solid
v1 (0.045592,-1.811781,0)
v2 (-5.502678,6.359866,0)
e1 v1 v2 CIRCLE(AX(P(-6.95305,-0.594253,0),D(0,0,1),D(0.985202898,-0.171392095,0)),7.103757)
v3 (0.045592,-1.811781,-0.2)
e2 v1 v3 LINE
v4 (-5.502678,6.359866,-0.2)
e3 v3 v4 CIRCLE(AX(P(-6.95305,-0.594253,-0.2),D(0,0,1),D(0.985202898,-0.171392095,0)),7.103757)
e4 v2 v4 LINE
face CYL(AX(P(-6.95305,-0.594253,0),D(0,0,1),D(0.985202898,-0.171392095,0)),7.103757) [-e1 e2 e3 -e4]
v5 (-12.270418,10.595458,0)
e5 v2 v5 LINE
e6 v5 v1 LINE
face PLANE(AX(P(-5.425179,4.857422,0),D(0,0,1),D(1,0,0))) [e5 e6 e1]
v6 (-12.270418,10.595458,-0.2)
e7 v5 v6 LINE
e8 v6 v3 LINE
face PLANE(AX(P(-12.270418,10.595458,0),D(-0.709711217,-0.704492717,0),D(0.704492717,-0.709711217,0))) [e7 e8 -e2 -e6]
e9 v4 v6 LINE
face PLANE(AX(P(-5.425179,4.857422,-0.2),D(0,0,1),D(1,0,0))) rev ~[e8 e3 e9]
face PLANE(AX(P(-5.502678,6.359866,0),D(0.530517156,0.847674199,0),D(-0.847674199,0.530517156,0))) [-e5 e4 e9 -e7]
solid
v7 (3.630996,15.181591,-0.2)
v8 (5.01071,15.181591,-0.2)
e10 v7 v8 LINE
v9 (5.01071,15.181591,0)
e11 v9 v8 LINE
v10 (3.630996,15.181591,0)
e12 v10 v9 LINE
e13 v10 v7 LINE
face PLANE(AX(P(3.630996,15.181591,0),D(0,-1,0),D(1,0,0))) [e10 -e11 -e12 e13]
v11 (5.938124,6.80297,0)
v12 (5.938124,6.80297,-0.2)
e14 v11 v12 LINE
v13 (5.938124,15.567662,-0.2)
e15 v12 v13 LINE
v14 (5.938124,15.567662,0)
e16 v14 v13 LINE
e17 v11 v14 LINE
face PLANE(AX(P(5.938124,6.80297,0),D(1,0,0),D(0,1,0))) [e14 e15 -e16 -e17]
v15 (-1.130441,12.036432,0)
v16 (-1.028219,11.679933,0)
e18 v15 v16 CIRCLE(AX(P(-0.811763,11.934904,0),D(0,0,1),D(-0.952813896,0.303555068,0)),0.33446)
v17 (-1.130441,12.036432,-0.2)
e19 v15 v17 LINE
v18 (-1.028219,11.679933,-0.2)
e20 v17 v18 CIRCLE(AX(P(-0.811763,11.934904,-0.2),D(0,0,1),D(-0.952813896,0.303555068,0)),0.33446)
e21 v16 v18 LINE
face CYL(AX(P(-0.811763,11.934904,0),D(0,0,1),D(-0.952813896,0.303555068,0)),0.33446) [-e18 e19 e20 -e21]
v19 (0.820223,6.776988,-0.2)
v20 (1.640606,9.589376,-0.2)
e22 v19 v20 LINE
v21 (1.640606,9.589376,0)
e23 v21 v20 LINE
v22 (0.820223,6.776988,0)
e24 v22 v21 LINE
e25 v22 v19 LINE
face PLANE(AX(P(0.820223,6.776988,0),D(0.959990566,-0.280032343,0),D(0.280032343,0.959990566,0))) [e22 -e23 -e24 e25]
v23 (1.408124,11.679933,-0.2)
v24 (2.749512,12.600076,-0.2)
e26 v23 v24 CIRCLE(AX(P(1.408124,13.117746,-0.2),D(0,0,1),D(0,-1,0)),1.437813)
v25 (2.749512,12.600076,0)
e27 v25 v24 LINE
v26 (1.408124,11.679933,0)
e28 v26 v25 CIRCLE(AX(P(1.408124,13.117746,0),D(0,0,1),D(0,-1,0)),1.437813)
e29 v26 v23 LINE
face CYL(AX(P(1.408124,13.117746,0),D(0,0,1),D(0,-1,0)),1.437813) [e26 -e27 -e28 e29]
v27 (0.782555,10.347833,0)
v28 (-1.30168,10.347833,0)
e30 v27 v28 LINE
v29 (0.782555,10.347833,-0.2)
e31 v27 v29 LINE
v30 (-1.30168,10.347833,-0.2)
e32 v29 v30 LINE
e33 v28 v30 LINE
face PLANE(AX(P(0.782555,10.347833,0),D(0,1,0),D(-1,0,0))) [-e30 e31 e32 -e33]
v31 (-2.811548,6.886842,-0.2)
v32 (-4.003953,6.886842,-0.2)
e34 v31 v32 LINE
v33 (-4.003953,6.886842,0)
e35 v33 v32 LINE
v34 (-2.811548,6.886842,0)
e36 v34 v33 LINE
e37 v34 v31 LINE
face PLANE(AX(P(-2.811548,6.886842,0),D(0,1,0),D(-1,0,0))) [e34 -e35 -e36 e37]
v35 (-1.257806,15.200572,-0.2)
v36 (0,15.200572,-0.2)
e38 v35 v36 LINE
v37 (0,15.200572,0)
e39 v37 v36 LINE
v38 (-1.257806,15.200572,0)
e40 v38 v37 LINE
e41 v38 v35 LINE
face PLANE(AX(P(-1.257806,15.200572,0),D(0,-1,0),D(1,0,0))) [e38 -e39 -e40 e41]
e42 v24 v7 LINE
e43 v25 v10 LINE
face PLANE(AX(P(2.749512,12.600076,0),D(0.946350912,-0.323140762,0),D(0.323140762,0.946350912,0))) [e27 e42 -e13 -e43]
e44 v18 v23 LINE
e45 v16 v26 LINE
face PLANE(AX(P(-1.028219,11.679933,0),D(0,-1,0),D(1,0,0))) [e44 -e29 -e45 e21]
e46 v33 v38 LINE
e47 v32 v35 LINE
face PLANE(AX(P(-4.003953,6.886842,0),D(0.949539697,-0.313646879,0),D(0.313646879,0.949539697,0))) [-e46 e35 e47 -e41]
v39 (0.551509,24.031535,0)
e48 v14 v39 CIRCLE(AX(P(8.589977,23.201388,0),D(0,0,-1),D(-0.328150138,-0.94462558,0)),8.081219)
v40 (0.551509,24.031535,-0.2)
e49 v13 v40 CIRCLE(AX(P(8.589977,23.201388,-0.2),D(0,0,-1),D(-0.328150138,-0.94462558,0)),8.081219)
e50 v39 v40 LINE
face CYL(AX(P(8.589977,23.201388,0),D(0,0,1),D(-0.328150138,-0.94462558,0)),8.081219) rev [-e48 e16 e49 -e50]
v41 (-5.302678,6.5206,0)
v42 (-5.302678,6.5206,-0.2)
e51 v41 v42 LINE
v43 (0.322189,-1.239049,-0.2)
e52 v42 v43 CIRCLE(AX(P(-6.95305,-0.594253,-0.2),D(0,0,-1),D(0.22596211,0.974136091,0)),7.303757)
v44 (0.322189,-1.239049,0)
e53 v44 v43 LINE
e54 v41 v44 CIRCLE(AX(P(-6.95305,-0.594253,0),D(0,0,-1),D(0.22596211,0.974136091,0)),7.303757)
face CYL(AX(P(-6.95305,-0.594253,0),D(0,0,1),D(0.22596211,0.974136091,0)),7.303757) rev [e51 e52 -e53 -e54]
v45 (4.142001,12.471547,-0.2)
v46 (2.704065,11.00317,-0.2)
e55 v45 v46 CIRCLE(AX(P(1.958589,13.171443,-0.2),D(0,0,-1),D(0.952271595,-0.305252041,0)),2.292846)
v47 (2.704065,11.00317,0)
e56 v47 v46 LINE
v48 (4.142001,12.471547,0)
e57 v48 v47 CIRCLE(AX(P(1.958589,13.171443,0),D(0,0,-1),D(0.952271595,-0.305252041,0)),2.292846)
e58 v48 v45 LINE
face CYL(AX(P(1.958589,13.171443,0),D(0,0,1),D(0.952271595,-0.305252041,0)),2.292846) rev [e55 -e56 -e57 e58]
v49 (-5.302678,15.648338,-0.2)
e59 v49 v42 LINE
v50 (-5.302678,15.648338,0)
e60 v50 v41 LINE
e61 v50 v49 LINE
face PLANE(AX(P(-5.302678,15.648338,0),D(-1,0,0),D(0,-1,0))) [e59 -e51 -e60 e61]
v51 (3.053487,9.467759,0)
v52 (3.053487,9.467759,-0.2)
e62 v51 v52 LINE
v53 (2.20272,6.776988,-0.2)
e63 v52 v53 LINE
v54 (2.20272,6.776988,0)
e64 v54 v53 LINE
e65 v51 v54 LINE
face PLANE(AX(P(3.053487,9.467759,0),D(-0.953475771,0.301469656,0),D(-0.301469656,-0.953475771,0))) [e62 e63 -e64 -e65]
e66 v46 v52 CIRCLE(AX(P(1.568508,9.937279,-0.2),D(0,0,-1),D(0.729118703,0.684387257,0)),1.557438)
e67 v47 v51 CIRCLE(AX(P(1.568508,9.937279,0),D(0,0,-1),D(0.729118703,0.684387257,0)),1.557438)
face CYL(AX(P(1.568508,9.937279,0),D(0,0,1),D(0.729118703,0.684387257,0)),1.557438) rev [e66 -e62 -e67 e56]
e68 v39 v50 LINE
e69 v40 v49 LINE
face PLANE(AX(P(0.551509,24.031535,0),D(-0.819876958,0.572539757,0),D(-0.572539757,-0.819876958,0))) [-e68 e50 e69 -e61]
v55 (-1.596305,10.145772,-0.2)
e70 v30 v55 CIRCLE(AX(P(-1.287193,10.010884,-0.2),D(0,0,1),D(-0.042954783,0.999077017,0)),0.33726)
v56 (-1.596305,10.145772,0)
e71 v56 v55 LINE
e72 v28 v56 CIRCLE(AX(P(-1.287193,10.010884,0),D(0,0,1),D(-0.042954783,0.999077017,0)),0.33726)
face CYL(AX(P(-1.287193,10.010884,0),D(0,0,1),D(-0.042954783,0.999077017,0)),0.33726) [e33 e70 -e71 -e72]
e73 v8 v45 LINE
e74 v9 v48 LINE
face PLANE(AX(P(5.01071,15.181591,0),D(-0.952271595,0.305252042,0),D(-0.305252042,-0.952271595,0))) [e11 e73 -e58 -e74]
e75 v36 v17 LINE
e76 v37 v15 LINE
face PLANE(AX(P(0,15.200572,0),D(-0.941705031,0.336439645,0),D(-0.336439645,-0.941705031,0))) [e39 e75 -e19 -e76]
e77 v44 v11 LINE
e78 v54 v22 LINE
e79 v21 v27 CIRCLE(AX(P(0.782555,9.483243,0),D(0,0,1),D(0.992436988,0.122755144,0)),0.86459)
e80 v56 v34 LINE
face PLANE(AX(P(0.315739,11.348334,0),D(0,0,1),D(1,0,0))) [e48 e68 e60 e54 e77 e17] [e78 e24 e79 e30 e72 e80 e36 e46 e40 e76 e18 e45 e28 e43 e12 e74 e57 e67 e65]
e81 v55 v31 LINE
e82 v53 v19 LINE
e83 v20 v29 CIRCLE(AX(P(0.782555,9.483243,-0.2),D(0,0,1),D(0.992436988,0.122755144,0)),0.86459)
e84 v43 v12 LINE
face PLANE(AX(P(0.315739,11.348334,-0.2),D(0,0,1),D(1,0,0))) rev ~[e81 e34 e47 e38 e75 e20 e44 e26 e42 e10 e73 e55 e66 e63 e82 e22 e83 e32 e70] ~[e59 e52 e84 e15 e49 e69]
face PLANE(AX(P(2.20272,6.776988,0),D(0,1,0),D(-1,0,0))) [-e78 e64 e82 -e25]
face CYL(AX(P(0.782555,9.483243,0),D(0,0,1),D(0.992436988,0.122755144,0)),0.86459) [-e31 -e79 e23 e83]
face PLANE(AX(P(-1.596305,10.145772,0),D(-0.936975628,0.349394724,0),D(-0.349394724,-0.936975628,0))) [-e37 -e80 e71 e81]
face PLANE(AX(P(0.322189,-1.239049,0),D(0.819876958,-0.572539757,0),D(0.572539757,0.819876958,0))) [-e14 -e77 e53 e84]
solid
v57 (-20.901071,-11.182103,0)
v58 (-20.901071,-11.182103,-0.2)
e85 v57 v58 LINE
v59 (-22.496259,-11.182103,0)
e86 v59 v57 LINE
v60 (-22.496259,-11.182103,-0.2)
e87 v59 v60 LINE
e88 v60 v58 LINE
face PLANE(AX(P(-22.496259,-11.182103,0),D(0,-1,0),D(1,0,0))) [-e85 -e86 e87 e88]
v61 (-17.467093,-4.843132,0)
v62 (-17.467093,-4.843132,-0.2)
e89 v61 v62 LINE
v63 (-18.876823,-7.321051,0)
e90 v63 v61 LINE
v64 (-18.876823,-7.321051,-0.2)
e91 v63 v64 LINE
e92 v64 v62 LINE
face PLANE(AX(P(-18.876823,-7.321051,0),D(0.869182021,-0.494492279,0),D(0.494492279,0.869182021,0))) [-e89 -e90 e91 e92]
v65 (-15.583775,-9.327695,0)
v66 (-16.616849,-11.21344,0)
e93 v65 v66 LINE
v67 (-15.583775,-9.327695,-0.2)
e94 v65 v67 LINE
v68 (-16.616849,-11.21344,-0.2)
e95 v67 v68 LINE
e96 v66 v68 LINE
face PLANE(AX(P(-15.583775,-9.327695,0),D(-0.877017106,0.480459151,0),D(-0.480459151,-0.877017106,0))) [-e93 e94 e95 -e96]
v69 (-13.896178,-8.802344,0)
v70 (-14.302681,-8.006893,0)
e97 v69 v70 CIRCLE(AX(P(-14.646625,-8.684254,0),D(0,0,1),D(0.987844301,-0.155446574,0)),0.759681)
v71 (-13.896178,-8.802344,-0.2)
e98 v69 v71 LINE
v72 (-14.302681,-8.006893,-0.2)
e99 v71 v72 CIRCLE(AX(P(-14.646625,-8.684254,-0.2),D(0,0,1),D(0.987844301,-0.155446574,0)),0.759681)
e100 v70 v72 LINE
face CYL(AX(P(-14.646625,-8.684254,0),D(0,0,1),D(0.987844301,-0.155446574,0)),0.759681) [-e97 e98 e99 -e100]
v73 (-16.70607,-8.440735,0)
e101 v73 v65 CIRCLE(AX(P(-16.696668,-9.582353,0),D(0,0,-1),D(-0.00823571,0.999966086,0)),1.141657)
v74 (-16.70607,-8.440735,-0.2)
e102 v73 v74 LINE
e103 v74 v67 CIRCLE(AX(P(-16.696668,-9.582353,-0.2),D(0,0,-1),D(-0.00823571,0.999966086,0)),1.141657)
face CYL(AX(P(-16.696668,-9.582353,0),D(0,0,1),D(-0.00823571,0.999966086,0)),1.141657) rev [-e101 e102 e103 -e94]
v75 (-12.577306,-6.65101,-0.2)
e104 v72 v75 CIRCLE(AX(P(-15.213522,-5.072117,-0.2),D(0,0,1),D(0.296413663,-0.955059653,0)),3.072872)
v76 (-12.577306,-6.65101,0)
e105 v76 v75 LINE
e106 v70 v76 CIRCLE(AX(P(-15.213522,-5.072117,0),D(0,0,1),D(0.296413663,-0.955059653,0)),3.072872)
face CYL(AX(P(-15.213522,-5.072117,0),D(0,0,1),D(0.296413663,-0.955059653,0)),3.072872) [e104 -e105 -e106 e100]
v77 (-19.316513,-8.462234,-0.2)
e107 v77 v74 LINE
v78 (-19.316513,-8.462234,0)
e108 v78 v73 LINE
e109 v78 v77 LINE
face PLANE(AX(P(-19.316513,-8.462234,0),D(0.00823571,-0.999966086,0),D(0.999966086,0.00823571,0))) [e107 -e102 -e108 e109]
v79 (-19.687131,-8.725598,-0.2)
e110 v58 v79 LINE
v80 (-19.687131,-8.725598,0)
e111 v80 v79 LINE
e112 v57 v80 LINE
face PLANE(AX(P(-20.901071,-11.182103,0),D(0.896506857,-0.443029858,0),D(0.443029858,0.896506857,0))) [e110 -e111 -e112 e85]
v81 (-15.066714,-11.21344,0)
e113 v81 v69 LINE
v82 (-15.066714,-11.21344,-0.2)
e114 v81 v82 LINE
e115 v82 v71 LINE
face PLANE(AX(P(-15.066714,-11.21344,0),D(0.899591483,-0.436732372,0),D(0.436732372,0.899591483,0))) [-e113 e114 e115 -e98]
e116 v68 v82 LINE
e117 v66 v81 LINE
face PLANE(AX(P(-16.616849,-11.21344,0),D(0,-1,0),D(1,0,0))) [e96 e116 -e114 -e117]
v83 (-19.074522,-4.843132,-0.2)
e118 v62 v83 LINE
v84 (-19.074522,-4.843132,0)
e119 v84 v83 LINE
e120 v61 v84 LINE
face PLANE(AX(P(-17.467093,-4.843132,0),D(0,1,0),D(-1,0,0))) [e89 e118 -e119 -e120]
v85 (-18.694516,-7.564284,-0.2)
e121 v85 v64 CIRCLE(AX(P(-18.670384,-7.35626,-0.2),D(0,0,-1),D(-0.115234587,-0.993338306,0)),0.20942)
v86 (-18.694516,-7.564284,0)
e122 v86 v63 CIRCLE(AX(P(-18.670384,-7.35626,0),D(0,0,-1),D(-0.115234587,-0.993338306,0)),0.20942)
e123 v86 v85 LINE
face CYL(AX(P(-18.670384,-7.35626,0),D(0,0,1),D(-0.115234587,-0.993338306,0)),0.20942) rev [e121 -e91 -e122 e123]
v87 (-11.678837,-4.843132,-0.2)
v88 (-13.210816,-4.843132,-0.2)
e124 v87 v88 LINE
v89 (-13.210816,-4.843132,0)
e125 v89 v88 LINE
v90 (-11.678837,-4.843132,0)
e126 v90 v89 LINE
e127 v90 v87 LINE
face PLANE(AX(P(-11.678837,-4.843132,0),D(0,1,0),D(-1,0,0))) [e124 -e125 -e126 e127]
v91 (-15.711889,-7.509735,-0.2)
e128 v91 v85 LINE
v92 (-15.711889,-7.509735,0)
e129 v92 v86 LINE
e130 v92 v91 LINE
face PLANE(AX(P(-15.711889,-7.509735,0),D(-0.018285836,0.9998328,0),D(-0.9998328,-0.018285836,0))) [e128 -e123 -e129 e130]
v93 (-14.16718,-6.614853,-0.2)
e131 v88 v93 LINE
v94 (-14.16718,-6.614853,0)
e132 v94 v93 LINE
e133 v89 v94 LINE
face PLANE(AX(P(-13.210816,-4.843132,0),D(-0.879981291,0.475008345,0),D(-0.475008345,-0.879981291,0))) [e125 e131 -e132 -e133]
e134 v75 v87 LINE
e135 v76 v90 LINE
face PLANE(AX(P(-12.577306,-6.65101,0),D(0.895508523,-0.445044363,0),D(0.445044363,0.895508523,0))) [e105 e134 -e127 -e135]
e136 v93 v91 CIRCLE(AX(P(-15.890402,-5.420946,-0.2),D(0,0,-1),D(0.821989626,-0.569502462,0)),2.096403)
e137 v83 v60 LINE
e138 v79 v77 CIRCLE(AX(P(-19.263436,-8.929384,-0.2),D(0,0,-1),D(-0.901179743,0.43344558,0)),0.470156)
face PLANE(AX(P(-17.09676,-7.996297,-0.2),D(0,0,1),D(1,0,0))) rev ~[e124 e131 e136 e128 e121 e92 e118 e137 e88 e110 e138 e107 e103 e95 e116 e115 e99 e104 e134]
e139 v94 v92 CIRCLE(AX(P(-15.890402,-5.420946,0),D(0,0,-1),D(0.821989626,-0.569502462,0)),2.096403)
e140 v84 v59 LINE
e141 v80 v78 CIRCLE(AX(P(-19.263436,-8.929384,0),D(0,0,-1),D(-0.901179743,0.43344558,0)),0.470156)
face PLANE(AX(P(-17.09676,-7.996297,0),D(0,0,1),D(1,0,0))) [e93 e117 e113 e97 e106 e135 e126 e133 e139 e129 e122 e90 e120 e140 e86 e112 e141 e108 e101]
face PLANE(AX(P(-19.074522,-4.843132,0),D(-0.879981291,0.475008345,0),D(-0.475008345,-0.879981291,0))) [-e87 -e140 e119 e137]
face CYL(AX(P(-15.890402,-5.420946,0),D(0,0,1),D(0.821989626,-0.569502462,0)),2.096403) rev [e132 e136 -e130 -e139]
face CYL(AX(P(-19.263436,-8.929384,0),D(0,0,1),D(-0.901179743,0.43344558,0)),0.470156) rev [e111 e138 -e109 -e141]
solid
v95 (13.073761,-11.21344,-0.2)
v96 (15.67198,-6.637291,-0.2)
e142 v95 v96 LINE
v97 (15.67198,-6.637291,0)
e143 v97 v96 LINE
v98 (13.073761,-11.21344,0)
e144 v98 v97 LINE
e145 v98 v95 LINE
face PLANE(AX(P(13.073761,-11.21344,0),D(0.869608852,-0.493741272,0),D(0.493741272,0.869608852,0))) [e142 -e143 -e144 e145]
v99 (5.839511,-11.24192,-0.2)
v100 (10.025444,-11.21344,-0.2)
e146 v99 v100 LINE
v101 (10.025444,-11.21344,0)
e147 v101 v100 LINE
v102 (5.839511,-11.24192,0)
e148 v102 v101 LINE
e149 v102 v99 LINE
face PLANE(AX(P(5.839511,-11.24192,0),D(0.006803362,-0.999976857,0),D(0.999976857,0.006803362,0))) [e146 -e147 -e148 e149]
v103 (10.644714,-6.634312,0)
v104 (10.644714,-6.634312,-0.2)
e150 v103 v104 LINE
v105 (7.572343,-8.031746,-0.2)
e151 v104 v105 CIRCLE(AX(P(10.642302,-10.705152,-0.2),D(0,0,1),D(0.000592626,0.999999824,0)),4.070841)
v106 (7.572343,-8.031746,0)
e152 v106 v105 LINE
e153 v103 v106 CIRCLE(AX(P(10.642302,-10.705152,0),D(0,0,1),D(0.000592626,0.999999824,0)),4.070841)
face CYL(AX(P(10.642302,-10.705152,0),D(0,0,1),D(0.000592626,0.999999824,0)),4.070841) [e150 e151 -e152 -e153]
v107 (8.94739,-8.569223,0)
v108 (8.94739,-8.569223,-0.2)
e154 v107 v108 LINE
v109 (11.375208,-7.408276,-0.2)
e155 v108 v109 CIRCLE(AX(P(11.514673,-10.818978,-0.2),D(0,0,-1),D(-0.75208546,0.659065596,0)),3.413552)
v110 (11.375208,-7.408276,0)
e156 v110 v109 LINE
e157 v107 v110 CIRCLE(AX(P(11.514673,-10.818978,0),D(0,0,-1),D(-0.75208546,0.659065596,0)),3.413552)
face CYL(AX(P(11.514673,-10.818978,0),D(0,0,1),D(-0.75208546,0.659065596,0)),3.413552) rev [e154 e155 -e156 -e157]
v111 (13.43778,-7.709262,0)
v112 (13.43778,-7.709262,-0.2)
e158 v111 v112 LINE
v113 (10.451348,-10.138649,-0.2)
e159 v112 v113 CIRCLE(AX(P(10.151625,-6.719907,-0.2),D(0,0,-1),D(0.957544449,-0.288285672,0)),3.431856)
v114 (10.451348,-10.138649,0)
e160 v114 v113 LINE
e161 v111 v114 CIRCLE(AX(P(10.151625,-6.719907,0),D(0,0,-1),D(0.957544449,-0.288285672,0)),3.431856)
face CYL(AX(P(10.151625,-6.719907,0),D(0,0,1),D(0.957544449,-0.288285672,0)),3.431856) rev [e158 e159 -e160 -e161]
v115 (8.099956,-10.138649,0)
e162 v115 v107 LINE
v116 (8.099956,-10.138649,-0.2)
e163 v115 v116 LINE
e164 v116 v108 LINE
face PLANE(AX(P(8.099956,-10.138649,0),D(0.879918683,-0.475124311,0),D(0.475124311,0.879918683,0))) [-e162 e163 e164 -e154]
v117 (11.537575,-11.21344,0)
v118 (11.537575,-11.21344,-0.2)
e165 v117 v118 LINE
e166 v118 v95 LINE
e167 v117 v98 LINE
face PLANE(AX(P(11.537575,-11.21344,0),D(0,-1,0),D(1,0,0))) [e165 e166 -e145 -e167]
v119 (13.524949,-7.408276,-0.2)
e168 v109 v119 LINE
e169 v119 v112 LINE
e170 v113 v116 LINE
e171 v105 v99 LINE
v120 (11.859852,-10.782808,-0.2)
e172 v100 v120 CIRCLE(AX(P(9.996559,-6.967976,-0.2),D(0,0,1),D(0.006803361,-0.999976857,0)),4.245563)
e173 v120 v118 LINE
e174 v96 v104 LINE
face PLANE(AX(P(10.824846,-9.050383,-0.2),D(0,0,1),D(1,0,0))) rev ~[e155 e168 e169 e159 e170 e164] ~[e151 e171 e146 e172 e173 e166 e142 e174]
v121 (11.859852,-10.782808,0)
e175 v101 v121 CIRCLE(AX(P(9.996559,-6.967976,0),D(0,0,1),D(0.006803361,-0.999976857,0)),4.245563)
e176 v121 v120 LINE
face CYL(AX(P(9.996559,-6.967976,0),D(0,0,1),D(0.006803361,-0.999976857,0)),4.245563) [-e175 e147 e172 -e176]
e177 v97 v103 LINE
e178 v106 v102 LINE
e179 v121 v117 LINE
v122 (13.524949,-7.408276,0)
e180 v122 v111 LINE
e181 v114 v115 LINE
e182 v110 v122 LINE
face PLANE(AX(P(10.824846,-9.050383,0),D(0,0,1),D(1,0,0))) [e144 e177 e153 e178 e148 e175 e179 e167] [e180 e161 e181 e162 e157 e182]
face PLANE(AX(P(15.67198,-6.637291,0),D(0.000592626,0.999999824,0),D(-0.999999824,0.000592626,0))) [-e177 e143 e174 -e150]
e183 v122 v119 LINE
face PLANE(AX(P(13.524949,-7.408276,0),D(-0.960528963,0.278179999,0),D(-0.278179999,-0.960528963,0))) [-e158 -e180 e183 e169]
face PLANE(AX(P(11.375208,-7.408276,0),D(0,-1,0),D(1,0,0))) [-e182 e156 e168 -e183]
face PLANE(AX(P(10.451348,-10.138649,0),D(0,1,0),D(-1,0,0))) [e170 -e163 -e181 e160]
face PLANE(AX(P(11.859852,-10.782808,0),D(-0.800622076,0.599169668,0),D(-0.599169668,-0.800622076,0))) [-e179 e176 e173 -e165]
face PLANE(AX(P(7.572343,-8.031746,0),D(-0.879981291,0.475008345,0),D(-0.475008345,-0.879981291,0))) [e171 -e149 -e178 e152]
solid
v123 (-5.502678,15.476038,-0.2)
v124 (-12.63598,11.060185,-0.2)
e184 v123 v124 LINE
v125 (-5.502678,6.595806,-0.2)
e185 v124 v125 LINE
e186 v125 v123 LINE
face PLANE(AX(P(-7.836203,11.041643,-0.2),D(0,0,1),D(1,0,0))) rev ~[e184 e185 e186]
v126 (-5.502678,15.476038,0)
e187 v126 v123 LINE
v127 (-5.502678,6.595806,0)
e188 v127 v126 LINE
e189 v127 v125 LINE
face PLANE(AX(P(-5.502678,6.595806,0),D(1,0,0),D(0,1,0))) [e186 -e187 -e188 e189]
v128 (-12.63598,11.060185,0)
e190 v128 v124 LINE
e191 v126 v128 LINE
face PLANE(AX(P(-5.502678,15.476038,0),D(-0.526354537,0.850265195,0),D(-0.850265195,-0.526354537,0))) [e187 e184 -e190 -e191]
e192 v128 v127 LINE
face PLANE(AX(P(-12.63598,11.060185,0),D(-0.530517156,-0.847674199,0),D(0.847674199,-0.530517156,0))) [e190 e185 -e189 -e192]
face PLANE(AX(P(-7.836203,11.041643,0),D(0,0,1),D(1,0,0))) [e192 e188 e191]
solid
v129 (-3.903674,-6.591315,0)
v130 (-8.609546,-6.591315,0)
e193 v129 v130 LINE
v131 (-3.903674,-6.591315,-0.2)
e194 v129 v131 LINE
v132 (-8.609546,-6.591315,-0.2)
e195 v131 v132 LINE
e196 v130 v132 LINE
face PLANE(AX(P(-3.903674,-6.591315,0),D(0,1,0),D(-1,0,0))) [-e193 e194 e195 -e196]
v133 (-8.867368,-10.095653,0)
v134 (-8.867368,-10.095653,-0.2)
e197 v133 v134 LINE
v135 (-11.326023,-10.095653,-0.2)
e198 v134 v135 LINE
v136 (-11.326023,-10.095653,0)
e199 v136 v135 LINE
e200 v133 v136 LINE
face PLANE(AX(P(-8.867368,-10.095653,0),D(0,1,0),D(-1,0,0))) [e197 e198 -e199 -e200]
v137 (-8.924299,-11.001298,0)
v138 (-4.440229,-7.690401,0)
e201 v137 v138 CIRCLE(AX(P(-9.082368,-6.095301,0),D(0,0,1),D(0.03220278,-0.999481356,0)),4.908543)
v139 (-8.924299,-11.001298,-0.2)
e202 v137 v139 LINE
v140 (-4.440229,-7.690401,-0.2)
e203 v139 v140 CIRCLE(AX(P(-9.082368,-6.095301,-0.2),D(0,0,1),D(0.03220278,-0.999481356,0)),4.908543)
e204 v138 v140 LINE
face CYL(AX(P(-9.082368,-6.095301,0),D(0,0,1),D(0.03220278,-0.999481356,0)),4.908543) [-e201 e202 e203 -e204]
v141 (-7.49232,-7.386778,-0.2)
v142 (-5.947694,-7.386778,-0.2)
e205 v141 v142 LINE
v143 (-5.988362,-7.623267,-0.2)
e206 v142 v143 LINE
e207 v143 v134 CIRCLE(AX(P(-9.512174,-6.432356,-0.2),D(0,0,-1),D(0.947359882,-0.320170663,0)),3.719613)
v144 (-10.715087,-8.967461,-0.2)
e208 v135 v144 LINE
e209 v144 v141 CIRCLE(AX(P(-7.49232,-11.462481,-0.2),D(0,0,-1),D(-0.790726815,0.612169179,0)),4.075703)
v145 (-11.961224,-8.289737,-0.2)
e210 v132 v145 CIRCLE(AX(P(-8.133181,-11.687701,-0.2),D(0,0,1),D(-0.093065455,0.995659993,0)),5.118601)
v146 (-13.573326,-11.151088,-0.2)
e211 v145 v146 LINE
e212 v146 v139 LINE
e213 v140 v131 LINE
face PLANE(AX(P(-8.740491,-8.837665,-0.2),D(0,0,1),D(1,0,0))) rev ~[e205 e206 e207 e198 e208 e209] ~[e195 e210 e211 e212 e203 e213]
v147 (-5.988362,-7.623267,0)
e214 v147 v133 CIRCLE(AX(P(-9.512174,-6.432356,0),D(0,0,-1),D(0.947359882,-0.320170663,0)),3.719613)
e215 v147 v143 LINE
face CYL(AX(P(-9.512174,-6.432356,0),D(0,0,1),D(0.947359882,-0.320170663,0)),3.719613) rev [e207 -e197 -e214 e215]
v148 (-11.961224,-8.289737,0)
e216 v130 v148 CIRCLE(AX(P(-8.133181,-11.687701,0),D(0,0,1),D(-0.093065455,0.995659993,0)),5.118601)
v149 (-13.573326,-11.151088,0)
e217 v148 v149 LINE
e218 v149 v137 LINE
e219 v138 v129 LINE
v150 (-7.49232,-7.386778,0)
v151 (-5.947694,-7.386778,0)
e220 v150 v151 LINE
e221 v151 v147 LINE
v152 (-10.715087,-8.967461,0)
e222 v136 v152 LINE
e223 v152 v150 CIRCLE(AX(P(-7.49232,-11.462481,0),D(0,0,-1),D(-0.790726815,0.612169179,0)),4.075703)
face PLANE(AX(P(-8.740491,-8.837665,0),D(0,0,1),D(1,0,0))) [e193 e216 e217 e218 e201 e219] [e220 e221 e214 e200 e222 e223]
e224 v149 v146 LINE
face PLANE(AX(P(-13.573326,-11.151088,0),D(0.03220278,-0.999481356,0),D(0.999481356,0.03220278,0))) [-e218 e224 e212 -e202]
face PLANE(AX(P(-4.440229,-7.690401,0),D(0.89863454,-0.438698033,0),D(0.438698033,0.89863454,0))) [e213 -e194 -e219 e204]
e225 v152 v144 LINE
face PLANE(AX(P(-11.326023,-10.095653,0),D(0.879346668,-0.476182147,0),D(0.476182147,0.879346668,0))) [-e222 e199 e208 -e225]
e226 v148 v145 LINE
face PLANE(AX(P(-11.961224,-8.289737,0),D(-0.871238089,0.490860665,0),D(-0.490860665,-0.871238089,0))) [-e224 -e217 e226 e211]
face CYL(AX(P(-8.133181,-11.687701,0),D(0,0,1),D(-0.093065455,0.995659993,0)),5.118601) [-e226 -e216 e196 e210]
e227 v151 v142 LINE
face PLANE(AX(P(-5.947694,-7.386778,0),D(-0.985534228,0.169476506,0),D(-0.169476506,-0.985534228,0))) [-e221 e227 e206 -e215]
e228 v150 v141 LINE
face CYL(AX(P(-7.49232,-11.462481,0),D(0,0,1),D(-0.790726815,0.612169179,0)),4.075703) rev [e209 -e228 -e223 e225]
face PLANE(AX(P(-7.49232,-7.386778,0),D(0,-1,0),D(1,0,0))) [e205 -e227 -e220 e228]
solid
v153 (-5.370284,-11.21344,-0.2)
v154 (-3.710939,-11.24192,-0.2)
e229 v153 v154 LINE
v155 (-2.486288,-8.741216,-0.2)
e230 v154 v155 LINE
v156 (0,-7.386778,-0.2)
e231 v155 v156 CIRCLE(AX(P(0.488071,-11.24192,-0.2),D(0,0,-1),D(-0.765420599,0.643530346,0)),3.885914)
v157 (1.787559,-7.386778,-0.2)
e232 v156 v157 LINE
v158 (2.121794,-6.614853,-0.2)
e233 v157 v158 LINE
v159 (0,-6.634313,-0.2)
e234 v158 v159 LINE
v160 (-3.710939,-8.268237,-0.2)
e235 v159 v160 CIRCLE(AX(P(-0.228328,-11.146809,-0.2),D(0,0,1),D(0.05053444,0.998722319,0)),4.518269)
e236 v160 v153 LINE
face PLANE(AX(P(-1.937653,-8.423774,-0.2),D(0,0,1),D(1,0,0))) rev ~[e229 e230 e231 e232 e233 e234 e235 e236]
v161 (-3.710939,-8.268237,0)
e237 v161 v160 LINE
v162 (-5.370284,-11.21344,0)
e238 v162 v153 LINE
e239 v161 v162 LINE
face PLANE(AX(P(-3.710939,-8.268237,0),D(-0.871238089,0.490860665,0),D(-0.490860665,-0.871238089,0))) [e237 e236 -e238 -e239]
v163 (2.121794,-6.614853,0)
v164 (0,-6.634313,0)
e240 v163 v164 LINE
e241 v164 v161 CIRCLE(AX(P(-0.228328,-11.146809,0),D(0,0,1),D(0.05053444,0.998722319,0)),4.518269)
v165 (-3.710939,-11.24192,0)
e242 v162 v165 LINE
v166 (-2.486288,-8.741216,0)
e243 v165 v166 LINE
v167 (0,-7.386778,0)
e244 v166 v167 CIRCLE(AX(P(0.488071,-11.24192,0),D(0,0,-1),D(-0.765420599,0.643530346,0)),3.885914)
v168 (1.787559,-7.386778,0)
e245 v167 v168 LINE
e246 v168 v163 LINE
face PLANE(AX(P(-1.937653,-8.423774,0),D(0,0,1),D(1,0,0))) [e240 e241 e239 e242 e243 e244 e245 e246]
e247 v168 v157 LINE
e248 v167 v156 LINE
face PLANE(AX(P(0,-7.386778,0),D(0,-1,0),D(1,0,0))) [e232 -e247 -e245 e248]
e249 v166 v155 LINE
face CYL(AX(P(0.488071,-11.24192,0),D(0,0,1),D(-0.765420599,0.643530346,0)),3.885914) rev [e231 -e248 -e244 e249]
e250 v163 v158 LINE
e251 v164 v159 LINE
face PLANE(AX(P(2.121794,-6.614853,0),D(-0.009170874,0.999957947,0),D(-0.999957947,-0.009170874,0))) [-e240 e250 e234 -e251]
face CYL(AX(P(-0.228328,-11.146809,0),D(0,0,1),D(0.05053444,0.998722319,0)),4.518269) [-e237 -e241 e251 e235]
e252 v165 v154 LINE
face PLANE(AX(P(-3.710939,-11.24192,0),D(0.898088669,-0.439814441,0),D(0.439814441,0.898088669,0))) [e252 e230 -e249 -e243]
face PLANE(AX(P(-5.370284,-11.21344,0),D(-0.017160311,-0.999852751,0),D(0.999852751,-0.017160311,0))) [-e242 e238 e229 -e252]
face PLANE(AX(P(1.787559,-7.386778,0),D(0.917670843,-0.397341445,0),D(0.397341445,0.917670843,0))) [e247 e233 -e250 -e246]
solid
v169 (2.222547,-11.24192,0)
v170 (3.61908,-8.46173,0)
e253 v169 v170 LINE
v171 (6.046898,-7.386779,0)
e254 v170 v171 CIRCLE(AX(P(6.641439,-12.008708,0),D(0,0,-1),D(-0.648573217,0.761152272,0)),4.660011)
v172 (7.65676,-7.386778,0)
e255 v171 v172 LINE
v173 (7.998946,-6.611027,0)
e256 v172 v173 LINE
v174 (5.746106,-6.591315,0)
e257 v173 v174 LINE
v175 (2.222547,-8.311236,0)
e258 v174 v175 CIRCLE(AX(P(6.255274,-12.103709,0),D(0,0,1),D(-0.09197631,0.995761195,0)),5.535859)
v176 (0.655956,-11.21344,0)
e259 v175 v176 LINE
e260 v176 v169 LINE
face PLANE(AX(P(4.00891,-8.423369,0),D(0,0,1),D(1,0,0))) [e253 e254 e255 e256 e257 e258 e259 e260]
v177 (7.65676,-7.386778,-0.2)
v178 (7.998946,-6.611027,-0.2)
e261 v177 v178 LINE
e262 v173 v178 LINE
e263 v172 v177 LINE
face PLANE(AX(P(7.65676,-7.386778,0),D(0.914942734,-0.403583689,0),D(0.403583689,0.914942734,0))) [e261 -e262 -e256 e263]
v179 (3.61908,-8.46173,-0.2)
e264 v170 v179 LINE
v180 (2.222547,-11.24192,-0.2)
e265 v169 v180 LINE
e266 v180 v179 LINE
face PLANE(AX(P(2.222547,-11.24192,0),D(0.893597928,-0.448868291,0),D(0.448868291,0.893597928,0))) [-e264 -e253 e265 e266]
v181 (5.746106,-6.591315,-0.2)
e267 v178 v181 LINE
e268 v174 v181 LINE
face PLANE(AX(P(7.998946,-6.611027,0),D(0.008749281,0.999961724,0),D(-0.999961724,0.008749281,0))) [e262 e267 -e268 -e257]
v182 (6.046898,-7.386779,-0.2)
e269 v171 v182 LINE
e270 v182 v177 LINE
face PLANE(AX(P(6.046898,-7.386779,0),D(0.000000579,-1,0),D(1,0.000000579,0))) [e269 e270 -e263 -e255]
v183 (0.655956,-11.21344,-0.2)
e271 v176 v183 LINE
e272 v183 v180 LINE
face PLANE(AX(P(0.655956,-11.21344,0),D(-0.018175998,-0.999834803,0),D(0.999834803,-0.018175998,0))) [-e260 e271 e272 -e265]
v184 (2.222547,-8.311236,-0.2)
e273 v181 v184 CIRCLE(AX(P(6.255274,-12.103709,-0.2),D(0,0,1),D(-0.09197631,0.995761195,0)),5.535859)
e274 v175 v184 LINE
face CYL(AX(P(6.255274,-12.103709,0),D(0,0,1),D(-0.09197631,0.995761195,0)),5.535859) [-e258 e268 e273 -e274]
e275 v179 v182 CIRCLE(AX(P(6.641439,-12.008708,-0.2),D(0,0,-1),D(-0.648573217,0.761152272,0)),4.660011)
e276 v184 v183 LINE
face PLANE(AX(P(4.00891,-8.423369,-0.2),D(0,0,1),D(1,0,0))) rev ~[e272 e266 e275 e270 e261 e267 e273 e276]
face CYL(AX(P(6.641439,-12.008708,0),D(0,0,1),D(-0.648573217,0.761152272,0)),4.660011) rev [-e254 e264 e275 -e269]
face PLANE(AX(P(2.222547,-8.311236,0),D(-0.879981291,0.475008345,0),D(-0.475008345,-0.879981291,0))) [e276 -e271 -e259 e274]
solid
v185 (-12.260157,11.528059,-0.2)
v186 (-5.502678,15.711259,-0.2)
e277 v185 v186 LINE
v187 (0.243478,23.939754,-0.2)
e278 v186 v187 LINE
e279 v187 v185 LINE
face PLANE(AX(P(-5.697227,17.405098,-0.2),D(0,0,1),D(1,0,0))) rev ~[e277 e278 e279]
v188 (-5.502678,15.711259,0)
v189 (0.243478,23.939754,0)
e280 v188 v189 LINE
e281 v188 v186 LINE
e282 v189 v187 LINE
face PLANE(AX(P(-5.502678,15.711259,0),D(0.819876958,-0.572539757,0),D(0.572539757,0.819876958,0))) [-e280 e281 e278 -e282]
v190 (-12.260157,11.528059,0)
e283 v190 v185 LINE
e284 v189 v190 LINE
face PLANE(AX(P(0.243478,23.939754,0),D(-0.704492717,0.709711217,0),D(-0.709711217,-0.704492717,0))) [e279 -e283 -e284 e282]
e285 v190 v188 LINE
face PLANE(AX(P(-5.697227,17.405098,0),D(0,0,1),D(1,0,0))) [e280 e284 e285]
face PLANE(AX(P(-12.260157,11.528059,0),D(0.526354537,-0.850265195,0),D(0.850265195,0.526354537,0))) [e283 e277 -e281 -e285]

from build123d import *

# Parameters (mm, degrees)
F1_DEPTH = 0.2


with BuildPart() as f1:
    # F0 (on Top) → F1 (new body)
    with BuildSketch(Plane.XY):
        with BuildLine():
            Line((0.3221887287, -1.2390491494), (5.9381237452, 6.8029700547))
            Line((5.9381237452, 6.8029700547), (5.9381237452, 15.5676616906))
            ThreePointArc((5.9381237452, 15.5676616906), (1.7723507567, 18.8624852196), (0.551509194, 24.0315347027))
            Line((0.551509194, 24.0315347027), (-5.3026779883, 15.6483383863))
            Line((-5.3026779883, 15.6483383863), (-5.3026779883, 6.5205997522))
            ThreePointArc((-5.3026779883, 6.5205997522), (-1.0395342394, 3.6923760496), (0.3221887287, -1.2390491494))
        make_face()
        with BuildLine():
            Line((-4.0039531887, 6.8868417293), (-1.2578062015, 15.2005720884))
            Line((-1.2578062015, 15.2005720884), (0, 15.2005720884))
            Line((0, 15.2005720884), (-1.1304413683, 12.0364315361))
            ThreePointArc((-1.1304413683, 12.0364315361), (-1.1332673696, 11.8427166471), (-1.0282194708, 11.6799334064))
            Line((-1.0282194708, 11.6799334064), (1.4081238769, 11.6799334064))
            ThreePointArc((1.4081238769, 11.6799334064), (2.2214482851, 11.9320780556), (2.7495124377, 12.6000763848))
            Line((2.7495124377, 12.6000763848), (3.6309957504, 15.181590803))
            Line((3.6309957504, 15.181590803), (5.0107096322, 15.181590803))
            Line((5.0107096322, 15.181590803), (4.1420012712, 12.4715473503))
            ThreePointArc((4.1420012712, 12.4715473503), (3.5967677723, 11.5672258478), (2.7040650602, 11.0031701624))
            ThreePointArc((2.7040650602, 11.0031701624), (3.0871173523, 10.2828780548), (3.0534872785, 9.4677591696))
            Line((3.0534872785, 9.4677591696), (2.2027201485, 6.7769880407))
            Line((2.2027201485, 6.7769880407), (0.820223242, 6.7769880407))
            Line((0.820223242, 6.7769880407), (1.6406058567, 9.589375928))
            ThreePointArc((1.6406058567, 9.589375928), (1.3551604564, 10.1310381804), (0.782554911, 10.3478329256))
            Line((0.782554911, 10.3478329256), (-1.3016803423, 10.3478329256))
            ThreePointArc((-1.3016803423, 10.3478329256), (-1.4779448579, 10.2890176936), (-1.5963046791, 10.1457718779))
            Line((-1.5963046791, 10.1457718779), (-2.8115476016, 6.8868417293))
            Line((-2.8115476016, 6.8868417293), (-4.0039531887, 6.8868417293))
        make_face(mode=Mode.SUBTRACT)
    extrude(amount=-F1_DEPTH)


with BuildPart() as f1b:
    # F0 (on Top) → F1, piece 2 (new body)
    with BuildSketch(Plane.XY):
        with BuildLine():
            ThreePointArc((0.0455915557, -1.8117811989), (-1.0759408053, 3.3961031617), (-5.5026779883, 6.3598663546))
            Line((-5.5026779883, 6.3598663546), (-12.2704175663, 10.5954582346))
            Line((-12.2704175663, 10.5954582346), (0.0455915557, -1.8117811989))
        make_face()
    extrude(amount=-F1_DEPTH)


with BuildPart() as f1c:
    # F0 (on Top) → F1, piece 3 (new body)
    with BuildSketch(Plane.XY):
        Polygon((-5.5026779883, 6.5958060592), (-5.5026779883, 15.4760383667), (-12.635980278, 11.0601854738), align=None)
    extrude(amount=-F1_DEPTH)


with BuildPart() as f1d:
    # F0 (on Top) → F1, piece 4 (new body)
    with BuildSketch(Plane.XY):
        Polygon((-12.2601570899, 11.528058606), (-5.5026779883, 15.7112590969), (0.2434776577, 23.9397542483), align=None)
    extrude(amount=-F1_DEPTH)


with BuildPart() as f1e:
    # F0 (on Top) → F1, piece 5 (new body)
    with BuildSketch(Plane.XY):
        with BuildLine():
            Line((15.6719795434, -6.6372910397), (10.644714348, -6.6343117505))
            ThreePointArc((10.644714348, -6.6343117505), (8.956874135, -6.9996048306), (7.5723426417, -8.0317463726))
            Line((7.5723426417, -8.0317463726), (5.8395114478, -11.2419195165))
            Line((5.8395114478, -11.2419195165), (10.0254435092, -11.213440448))
            ThreePointArc((10.0254435092, -11.213440448), (10.9668398403, -11.1011779704), (11.8598518893, -10.7828080654))
            Line((11.8598518893, -10.7828080654), (11.5375751629, -11.213440448))
            Line((11.5375751629, -11.213440448), (13.0737610161, -11.213440448))
            Line((13.0737610161, -11.213440448), (15.6719795434, -6.6372910397))
        make_face()
        with BuildLine():
            ThreePointArc((8.9473901317, -8.5692228749), (10.0420664485, -7.7394049699), (11.3752083853, -7.4082757346))
            Line((11.3752083853, -7.4082757346), (13.5249486193, -7.4082757346))
            Line((13.5249486193, -7.4082757346), (13.4377796203, -7.7092619613))
            ThreePointArc((13.4377796203, -7.7092619613), (12.3172915564, -9.3821473425), (10.4513484985, -10.1386494935))
            Line((10.4513484985, -10.1386494935), (8.0999564379, -10.1386494935))
            Line((8.0999564379, -10.1386494935), (8.9473901317, -8.5692228749))
        make_face(mode=Mode.SUBTRACT)
    extrude(amount=-F1_DEPTH)


with BuildPart() as f1f:
    # F0 (on Top) → F1, piece 6 (new body)
    with BuildSketch(Plane.XY):
        with BuildLine():
            Line((7.9989461764, -6.6110268672), (5.7461061515, -6.5913153812))
            ThreePointArc((5.7461061515, -6.5913153812), (3.8269548312, -7.1288721816), (2.2225470748, -8.3112362772))
            Line((2.2225470748, -8.3112362772), (0.6559555881, -11.213440448))
            Line((0.6559555881, -11.213440448), (2.2225470748, -11.2419195165))
            Line((2.2225470748, -11.2419195165), (3.6190801766, -8.4617296234))
            ThreePointArc((3.6190801766, -8.4617296234), (4.7548095867, -7.7476826092), (6.0468981974, -7.386778947))
            Line((6.0468981974, -7.386778947), (7.6567602687, -7.3867780156))
            Line((7.6567602687, -7.3867780156), (7.9989461764, -6.6110268672))
        make_face()
    extrude(amount=-F1_DEPTH)


with BuildPart() as f1g:
    # F0 (on Top) → F1, piece 7 (new body)
    with BuildSketch(Plane.XY):
        with BuildLine():
            ThreePointArc((-2.486287849, -8.7412158027), (-1.3708885374, -7.8295011783), (0, -7.3867780156))
            Line((0, -7.3867780156), (1.7875585472, -7.3867780156))
            Line((1.7875585472, -7.3867780156), (2.1217935719, -6.6148531623))
            Line((2.1217935719, -6.6148531623), (0, -6.6343126819))
            ThreePointArc((0, -6.6343126819), (-2.0490469004, -7.011625802), (-3.7109393161, -8.268237114))
            Line((-3.7109393161, -8.268237114), (-5.3702842035, -11.213440448))
            Line((-5.3702842035, -11.213440448), (-3.7109393161, -11.2419195165))
            Line((-3.7109393161, -11.2419195165), (-2.486287849, -8.7412158027))
        make_face()
    extrude(amount=-F1_DEPTH)


with BuildPart() as f1h:
    # F0 (on Top) → F1, piece 8 (new body)
    with BuildSketch(Plane.XY):
        with BuildLine():
            Line((-3.9036741946, -6.5913149156), (-8.6095463485, -6.5913149156))
            ThreePointArc((-8.6095463485, -6.5913149156), (-10.4468670481, -7.12185676), (-11.9612244889, -8.2897366956))
            Line((-11.9612244889, -8.2897366956), (-13.5733263679, -11.1510875002))
            Line((-13.5733263679, -11.1510875002), (-8.9242989197, -11.0012982041))
            ThreePointArc((-8.9242989197, -11.0012982041), (-6.1667191094, -10.0440713662), (-4.4402293861, -7.6904012822))
            Line((-4.4402293861, -7.6904012822), (-3.9036741946, -6.5913149156))
        make_face()
        with BuildLine():
            ThreePointArc((-5.9883617796, -7.6232668944), (-7.0888461772, -9.2542353693), (-8.8673681021, -10.0956531242))
            Line((-8.8673681021, -10.0956531242), (-11.3260233775, -10.0956531242))
            Line((-11.3260233775, -10.0956531242), (-10.7150869444, -8.9674610645))
            ThreePointArc((-10.7150869444, -8.9674610645), (-9.2870890069, -7.8032245883), (-7.4923196808, -7.3867780156))
            Line((-7.4923196808, -7.3867780156), (-5.9476941824, -7.3867780156))
            Line((-5.9476941824, -7.3867780156), (-5.9883617796, -7.6232668944))
        make_face(mode=Mode.SUBTRACT)
    extrude(amount=-F1_DEPTH)


with BuildPart() as f1i:
    # F0 (on Top) → F1, piece 9 (new body)
    with BuildSketch(Plane.XY):
        with BuildLine():
            ThreePointArc((-14.1671802849, -6.6148531623), (-14.8395201872, -7.2349347814), (-15.7118886709, -7.5097354129))
            Line((-15.7118886709, -7.5097354129), (-18.6945162714, -7.5642843731))
            ThreePointArc((-18.6945162714, -7.5642843731), (-18.8379589434, -7.4818591939), (-18.8768226653, -7.3210508563))
            Line((-18.8768226653, -7.3210508563), (-17.4670927227, -4.8431316391))
            Line((-17.4670927227, -4.8431316391), (-19.0745219588, -4.8431316391))
            Line((-19.0745219588, -4.8431316391), (-22.49625884, -11.1821033061))
            Line((-22.49625884, -11.1821033061), (-20.9010709077, -11.1821033061))
            Line((-20.9010709077, -11.1821033061), (-19.6871310472, -8.7255975232))
            ThreePointArc((-19.6871310472, -8.7255975232), (-19.5357739882, -8.5461370978), (-19.3165130913, -8.4622344002))
            Line((-19.3165130913, -8.4622344002), (-16.7060699314, -8.4407348186))
            ThreePointArc((-16.7060699314, -8.4407348186), (-15.9887854149, -8.68665027), (-15.5837750062, -9.3276947737))
            Line((-15.5837750062, -9.3276947737), (-16.6168492287, -11.213440448))
            Line((-16.6168492287, -11.213440448), (-15.066714026, -11.213440448))
            Line((-15.066714026, -11.213440448), (-13.8961784542, -8.8023440912))
            ThreePointArc((-13.8961784542, -8.8023440912), (-13.9701576636, -8.3385560844), (-14.3026812002, -8.0068930984))
            ThreePointArc((-14.3026812002, -8.0068930984), (-13.3148360087, -7.4882155641), (-12.5773055479, -6.6510098986))
            Line((-12.5773055479, -6.6510098986), (-11.6788372397, -4.8431316391))
            Line((-11.6788372397, -4.8431316391), (-13.2108161934, -4.8431316391))
            Line((-13.2108161934, -4.8431316391), (-14.1671802849, -6.6148531623))
        make_face()
    extrude(amount=-F1_DEPTH)


with BuildPart() as f1b_1:
    # F2: moved
    add(f1b.part)


with BuildPart() as f1i_1:
    # F2: moved
    add(f1i.part)


with BuildPart() as f1h_1:
    # F2: moved
    add(f1h.part)


with BuildPart() as f1g_1:
    # F2: moved
    add(f1g.part)


with BuildPart() as f1c_1:
    # F2: moved
    add(f1c.part)


with BuildPart() as f1d_1:
    # F2: moved
    add(f1d.part)


with BuildPart() as f1_1:
    # F2: moved
    add(f1.part)


with BuildPart() as f1f_1:
    # F2: moved
    add(f1f.part)


with BuildPart() as f1e_1:
    # F2: moved
    add(f1e.part)


solid = Compound([f1b_1.part, f1i_1.part, f1h_1.part, f1g_1.part, f1c_1.part, f1d_1.part, f1_1.part, f1f_1.part, f1e_1.part])
